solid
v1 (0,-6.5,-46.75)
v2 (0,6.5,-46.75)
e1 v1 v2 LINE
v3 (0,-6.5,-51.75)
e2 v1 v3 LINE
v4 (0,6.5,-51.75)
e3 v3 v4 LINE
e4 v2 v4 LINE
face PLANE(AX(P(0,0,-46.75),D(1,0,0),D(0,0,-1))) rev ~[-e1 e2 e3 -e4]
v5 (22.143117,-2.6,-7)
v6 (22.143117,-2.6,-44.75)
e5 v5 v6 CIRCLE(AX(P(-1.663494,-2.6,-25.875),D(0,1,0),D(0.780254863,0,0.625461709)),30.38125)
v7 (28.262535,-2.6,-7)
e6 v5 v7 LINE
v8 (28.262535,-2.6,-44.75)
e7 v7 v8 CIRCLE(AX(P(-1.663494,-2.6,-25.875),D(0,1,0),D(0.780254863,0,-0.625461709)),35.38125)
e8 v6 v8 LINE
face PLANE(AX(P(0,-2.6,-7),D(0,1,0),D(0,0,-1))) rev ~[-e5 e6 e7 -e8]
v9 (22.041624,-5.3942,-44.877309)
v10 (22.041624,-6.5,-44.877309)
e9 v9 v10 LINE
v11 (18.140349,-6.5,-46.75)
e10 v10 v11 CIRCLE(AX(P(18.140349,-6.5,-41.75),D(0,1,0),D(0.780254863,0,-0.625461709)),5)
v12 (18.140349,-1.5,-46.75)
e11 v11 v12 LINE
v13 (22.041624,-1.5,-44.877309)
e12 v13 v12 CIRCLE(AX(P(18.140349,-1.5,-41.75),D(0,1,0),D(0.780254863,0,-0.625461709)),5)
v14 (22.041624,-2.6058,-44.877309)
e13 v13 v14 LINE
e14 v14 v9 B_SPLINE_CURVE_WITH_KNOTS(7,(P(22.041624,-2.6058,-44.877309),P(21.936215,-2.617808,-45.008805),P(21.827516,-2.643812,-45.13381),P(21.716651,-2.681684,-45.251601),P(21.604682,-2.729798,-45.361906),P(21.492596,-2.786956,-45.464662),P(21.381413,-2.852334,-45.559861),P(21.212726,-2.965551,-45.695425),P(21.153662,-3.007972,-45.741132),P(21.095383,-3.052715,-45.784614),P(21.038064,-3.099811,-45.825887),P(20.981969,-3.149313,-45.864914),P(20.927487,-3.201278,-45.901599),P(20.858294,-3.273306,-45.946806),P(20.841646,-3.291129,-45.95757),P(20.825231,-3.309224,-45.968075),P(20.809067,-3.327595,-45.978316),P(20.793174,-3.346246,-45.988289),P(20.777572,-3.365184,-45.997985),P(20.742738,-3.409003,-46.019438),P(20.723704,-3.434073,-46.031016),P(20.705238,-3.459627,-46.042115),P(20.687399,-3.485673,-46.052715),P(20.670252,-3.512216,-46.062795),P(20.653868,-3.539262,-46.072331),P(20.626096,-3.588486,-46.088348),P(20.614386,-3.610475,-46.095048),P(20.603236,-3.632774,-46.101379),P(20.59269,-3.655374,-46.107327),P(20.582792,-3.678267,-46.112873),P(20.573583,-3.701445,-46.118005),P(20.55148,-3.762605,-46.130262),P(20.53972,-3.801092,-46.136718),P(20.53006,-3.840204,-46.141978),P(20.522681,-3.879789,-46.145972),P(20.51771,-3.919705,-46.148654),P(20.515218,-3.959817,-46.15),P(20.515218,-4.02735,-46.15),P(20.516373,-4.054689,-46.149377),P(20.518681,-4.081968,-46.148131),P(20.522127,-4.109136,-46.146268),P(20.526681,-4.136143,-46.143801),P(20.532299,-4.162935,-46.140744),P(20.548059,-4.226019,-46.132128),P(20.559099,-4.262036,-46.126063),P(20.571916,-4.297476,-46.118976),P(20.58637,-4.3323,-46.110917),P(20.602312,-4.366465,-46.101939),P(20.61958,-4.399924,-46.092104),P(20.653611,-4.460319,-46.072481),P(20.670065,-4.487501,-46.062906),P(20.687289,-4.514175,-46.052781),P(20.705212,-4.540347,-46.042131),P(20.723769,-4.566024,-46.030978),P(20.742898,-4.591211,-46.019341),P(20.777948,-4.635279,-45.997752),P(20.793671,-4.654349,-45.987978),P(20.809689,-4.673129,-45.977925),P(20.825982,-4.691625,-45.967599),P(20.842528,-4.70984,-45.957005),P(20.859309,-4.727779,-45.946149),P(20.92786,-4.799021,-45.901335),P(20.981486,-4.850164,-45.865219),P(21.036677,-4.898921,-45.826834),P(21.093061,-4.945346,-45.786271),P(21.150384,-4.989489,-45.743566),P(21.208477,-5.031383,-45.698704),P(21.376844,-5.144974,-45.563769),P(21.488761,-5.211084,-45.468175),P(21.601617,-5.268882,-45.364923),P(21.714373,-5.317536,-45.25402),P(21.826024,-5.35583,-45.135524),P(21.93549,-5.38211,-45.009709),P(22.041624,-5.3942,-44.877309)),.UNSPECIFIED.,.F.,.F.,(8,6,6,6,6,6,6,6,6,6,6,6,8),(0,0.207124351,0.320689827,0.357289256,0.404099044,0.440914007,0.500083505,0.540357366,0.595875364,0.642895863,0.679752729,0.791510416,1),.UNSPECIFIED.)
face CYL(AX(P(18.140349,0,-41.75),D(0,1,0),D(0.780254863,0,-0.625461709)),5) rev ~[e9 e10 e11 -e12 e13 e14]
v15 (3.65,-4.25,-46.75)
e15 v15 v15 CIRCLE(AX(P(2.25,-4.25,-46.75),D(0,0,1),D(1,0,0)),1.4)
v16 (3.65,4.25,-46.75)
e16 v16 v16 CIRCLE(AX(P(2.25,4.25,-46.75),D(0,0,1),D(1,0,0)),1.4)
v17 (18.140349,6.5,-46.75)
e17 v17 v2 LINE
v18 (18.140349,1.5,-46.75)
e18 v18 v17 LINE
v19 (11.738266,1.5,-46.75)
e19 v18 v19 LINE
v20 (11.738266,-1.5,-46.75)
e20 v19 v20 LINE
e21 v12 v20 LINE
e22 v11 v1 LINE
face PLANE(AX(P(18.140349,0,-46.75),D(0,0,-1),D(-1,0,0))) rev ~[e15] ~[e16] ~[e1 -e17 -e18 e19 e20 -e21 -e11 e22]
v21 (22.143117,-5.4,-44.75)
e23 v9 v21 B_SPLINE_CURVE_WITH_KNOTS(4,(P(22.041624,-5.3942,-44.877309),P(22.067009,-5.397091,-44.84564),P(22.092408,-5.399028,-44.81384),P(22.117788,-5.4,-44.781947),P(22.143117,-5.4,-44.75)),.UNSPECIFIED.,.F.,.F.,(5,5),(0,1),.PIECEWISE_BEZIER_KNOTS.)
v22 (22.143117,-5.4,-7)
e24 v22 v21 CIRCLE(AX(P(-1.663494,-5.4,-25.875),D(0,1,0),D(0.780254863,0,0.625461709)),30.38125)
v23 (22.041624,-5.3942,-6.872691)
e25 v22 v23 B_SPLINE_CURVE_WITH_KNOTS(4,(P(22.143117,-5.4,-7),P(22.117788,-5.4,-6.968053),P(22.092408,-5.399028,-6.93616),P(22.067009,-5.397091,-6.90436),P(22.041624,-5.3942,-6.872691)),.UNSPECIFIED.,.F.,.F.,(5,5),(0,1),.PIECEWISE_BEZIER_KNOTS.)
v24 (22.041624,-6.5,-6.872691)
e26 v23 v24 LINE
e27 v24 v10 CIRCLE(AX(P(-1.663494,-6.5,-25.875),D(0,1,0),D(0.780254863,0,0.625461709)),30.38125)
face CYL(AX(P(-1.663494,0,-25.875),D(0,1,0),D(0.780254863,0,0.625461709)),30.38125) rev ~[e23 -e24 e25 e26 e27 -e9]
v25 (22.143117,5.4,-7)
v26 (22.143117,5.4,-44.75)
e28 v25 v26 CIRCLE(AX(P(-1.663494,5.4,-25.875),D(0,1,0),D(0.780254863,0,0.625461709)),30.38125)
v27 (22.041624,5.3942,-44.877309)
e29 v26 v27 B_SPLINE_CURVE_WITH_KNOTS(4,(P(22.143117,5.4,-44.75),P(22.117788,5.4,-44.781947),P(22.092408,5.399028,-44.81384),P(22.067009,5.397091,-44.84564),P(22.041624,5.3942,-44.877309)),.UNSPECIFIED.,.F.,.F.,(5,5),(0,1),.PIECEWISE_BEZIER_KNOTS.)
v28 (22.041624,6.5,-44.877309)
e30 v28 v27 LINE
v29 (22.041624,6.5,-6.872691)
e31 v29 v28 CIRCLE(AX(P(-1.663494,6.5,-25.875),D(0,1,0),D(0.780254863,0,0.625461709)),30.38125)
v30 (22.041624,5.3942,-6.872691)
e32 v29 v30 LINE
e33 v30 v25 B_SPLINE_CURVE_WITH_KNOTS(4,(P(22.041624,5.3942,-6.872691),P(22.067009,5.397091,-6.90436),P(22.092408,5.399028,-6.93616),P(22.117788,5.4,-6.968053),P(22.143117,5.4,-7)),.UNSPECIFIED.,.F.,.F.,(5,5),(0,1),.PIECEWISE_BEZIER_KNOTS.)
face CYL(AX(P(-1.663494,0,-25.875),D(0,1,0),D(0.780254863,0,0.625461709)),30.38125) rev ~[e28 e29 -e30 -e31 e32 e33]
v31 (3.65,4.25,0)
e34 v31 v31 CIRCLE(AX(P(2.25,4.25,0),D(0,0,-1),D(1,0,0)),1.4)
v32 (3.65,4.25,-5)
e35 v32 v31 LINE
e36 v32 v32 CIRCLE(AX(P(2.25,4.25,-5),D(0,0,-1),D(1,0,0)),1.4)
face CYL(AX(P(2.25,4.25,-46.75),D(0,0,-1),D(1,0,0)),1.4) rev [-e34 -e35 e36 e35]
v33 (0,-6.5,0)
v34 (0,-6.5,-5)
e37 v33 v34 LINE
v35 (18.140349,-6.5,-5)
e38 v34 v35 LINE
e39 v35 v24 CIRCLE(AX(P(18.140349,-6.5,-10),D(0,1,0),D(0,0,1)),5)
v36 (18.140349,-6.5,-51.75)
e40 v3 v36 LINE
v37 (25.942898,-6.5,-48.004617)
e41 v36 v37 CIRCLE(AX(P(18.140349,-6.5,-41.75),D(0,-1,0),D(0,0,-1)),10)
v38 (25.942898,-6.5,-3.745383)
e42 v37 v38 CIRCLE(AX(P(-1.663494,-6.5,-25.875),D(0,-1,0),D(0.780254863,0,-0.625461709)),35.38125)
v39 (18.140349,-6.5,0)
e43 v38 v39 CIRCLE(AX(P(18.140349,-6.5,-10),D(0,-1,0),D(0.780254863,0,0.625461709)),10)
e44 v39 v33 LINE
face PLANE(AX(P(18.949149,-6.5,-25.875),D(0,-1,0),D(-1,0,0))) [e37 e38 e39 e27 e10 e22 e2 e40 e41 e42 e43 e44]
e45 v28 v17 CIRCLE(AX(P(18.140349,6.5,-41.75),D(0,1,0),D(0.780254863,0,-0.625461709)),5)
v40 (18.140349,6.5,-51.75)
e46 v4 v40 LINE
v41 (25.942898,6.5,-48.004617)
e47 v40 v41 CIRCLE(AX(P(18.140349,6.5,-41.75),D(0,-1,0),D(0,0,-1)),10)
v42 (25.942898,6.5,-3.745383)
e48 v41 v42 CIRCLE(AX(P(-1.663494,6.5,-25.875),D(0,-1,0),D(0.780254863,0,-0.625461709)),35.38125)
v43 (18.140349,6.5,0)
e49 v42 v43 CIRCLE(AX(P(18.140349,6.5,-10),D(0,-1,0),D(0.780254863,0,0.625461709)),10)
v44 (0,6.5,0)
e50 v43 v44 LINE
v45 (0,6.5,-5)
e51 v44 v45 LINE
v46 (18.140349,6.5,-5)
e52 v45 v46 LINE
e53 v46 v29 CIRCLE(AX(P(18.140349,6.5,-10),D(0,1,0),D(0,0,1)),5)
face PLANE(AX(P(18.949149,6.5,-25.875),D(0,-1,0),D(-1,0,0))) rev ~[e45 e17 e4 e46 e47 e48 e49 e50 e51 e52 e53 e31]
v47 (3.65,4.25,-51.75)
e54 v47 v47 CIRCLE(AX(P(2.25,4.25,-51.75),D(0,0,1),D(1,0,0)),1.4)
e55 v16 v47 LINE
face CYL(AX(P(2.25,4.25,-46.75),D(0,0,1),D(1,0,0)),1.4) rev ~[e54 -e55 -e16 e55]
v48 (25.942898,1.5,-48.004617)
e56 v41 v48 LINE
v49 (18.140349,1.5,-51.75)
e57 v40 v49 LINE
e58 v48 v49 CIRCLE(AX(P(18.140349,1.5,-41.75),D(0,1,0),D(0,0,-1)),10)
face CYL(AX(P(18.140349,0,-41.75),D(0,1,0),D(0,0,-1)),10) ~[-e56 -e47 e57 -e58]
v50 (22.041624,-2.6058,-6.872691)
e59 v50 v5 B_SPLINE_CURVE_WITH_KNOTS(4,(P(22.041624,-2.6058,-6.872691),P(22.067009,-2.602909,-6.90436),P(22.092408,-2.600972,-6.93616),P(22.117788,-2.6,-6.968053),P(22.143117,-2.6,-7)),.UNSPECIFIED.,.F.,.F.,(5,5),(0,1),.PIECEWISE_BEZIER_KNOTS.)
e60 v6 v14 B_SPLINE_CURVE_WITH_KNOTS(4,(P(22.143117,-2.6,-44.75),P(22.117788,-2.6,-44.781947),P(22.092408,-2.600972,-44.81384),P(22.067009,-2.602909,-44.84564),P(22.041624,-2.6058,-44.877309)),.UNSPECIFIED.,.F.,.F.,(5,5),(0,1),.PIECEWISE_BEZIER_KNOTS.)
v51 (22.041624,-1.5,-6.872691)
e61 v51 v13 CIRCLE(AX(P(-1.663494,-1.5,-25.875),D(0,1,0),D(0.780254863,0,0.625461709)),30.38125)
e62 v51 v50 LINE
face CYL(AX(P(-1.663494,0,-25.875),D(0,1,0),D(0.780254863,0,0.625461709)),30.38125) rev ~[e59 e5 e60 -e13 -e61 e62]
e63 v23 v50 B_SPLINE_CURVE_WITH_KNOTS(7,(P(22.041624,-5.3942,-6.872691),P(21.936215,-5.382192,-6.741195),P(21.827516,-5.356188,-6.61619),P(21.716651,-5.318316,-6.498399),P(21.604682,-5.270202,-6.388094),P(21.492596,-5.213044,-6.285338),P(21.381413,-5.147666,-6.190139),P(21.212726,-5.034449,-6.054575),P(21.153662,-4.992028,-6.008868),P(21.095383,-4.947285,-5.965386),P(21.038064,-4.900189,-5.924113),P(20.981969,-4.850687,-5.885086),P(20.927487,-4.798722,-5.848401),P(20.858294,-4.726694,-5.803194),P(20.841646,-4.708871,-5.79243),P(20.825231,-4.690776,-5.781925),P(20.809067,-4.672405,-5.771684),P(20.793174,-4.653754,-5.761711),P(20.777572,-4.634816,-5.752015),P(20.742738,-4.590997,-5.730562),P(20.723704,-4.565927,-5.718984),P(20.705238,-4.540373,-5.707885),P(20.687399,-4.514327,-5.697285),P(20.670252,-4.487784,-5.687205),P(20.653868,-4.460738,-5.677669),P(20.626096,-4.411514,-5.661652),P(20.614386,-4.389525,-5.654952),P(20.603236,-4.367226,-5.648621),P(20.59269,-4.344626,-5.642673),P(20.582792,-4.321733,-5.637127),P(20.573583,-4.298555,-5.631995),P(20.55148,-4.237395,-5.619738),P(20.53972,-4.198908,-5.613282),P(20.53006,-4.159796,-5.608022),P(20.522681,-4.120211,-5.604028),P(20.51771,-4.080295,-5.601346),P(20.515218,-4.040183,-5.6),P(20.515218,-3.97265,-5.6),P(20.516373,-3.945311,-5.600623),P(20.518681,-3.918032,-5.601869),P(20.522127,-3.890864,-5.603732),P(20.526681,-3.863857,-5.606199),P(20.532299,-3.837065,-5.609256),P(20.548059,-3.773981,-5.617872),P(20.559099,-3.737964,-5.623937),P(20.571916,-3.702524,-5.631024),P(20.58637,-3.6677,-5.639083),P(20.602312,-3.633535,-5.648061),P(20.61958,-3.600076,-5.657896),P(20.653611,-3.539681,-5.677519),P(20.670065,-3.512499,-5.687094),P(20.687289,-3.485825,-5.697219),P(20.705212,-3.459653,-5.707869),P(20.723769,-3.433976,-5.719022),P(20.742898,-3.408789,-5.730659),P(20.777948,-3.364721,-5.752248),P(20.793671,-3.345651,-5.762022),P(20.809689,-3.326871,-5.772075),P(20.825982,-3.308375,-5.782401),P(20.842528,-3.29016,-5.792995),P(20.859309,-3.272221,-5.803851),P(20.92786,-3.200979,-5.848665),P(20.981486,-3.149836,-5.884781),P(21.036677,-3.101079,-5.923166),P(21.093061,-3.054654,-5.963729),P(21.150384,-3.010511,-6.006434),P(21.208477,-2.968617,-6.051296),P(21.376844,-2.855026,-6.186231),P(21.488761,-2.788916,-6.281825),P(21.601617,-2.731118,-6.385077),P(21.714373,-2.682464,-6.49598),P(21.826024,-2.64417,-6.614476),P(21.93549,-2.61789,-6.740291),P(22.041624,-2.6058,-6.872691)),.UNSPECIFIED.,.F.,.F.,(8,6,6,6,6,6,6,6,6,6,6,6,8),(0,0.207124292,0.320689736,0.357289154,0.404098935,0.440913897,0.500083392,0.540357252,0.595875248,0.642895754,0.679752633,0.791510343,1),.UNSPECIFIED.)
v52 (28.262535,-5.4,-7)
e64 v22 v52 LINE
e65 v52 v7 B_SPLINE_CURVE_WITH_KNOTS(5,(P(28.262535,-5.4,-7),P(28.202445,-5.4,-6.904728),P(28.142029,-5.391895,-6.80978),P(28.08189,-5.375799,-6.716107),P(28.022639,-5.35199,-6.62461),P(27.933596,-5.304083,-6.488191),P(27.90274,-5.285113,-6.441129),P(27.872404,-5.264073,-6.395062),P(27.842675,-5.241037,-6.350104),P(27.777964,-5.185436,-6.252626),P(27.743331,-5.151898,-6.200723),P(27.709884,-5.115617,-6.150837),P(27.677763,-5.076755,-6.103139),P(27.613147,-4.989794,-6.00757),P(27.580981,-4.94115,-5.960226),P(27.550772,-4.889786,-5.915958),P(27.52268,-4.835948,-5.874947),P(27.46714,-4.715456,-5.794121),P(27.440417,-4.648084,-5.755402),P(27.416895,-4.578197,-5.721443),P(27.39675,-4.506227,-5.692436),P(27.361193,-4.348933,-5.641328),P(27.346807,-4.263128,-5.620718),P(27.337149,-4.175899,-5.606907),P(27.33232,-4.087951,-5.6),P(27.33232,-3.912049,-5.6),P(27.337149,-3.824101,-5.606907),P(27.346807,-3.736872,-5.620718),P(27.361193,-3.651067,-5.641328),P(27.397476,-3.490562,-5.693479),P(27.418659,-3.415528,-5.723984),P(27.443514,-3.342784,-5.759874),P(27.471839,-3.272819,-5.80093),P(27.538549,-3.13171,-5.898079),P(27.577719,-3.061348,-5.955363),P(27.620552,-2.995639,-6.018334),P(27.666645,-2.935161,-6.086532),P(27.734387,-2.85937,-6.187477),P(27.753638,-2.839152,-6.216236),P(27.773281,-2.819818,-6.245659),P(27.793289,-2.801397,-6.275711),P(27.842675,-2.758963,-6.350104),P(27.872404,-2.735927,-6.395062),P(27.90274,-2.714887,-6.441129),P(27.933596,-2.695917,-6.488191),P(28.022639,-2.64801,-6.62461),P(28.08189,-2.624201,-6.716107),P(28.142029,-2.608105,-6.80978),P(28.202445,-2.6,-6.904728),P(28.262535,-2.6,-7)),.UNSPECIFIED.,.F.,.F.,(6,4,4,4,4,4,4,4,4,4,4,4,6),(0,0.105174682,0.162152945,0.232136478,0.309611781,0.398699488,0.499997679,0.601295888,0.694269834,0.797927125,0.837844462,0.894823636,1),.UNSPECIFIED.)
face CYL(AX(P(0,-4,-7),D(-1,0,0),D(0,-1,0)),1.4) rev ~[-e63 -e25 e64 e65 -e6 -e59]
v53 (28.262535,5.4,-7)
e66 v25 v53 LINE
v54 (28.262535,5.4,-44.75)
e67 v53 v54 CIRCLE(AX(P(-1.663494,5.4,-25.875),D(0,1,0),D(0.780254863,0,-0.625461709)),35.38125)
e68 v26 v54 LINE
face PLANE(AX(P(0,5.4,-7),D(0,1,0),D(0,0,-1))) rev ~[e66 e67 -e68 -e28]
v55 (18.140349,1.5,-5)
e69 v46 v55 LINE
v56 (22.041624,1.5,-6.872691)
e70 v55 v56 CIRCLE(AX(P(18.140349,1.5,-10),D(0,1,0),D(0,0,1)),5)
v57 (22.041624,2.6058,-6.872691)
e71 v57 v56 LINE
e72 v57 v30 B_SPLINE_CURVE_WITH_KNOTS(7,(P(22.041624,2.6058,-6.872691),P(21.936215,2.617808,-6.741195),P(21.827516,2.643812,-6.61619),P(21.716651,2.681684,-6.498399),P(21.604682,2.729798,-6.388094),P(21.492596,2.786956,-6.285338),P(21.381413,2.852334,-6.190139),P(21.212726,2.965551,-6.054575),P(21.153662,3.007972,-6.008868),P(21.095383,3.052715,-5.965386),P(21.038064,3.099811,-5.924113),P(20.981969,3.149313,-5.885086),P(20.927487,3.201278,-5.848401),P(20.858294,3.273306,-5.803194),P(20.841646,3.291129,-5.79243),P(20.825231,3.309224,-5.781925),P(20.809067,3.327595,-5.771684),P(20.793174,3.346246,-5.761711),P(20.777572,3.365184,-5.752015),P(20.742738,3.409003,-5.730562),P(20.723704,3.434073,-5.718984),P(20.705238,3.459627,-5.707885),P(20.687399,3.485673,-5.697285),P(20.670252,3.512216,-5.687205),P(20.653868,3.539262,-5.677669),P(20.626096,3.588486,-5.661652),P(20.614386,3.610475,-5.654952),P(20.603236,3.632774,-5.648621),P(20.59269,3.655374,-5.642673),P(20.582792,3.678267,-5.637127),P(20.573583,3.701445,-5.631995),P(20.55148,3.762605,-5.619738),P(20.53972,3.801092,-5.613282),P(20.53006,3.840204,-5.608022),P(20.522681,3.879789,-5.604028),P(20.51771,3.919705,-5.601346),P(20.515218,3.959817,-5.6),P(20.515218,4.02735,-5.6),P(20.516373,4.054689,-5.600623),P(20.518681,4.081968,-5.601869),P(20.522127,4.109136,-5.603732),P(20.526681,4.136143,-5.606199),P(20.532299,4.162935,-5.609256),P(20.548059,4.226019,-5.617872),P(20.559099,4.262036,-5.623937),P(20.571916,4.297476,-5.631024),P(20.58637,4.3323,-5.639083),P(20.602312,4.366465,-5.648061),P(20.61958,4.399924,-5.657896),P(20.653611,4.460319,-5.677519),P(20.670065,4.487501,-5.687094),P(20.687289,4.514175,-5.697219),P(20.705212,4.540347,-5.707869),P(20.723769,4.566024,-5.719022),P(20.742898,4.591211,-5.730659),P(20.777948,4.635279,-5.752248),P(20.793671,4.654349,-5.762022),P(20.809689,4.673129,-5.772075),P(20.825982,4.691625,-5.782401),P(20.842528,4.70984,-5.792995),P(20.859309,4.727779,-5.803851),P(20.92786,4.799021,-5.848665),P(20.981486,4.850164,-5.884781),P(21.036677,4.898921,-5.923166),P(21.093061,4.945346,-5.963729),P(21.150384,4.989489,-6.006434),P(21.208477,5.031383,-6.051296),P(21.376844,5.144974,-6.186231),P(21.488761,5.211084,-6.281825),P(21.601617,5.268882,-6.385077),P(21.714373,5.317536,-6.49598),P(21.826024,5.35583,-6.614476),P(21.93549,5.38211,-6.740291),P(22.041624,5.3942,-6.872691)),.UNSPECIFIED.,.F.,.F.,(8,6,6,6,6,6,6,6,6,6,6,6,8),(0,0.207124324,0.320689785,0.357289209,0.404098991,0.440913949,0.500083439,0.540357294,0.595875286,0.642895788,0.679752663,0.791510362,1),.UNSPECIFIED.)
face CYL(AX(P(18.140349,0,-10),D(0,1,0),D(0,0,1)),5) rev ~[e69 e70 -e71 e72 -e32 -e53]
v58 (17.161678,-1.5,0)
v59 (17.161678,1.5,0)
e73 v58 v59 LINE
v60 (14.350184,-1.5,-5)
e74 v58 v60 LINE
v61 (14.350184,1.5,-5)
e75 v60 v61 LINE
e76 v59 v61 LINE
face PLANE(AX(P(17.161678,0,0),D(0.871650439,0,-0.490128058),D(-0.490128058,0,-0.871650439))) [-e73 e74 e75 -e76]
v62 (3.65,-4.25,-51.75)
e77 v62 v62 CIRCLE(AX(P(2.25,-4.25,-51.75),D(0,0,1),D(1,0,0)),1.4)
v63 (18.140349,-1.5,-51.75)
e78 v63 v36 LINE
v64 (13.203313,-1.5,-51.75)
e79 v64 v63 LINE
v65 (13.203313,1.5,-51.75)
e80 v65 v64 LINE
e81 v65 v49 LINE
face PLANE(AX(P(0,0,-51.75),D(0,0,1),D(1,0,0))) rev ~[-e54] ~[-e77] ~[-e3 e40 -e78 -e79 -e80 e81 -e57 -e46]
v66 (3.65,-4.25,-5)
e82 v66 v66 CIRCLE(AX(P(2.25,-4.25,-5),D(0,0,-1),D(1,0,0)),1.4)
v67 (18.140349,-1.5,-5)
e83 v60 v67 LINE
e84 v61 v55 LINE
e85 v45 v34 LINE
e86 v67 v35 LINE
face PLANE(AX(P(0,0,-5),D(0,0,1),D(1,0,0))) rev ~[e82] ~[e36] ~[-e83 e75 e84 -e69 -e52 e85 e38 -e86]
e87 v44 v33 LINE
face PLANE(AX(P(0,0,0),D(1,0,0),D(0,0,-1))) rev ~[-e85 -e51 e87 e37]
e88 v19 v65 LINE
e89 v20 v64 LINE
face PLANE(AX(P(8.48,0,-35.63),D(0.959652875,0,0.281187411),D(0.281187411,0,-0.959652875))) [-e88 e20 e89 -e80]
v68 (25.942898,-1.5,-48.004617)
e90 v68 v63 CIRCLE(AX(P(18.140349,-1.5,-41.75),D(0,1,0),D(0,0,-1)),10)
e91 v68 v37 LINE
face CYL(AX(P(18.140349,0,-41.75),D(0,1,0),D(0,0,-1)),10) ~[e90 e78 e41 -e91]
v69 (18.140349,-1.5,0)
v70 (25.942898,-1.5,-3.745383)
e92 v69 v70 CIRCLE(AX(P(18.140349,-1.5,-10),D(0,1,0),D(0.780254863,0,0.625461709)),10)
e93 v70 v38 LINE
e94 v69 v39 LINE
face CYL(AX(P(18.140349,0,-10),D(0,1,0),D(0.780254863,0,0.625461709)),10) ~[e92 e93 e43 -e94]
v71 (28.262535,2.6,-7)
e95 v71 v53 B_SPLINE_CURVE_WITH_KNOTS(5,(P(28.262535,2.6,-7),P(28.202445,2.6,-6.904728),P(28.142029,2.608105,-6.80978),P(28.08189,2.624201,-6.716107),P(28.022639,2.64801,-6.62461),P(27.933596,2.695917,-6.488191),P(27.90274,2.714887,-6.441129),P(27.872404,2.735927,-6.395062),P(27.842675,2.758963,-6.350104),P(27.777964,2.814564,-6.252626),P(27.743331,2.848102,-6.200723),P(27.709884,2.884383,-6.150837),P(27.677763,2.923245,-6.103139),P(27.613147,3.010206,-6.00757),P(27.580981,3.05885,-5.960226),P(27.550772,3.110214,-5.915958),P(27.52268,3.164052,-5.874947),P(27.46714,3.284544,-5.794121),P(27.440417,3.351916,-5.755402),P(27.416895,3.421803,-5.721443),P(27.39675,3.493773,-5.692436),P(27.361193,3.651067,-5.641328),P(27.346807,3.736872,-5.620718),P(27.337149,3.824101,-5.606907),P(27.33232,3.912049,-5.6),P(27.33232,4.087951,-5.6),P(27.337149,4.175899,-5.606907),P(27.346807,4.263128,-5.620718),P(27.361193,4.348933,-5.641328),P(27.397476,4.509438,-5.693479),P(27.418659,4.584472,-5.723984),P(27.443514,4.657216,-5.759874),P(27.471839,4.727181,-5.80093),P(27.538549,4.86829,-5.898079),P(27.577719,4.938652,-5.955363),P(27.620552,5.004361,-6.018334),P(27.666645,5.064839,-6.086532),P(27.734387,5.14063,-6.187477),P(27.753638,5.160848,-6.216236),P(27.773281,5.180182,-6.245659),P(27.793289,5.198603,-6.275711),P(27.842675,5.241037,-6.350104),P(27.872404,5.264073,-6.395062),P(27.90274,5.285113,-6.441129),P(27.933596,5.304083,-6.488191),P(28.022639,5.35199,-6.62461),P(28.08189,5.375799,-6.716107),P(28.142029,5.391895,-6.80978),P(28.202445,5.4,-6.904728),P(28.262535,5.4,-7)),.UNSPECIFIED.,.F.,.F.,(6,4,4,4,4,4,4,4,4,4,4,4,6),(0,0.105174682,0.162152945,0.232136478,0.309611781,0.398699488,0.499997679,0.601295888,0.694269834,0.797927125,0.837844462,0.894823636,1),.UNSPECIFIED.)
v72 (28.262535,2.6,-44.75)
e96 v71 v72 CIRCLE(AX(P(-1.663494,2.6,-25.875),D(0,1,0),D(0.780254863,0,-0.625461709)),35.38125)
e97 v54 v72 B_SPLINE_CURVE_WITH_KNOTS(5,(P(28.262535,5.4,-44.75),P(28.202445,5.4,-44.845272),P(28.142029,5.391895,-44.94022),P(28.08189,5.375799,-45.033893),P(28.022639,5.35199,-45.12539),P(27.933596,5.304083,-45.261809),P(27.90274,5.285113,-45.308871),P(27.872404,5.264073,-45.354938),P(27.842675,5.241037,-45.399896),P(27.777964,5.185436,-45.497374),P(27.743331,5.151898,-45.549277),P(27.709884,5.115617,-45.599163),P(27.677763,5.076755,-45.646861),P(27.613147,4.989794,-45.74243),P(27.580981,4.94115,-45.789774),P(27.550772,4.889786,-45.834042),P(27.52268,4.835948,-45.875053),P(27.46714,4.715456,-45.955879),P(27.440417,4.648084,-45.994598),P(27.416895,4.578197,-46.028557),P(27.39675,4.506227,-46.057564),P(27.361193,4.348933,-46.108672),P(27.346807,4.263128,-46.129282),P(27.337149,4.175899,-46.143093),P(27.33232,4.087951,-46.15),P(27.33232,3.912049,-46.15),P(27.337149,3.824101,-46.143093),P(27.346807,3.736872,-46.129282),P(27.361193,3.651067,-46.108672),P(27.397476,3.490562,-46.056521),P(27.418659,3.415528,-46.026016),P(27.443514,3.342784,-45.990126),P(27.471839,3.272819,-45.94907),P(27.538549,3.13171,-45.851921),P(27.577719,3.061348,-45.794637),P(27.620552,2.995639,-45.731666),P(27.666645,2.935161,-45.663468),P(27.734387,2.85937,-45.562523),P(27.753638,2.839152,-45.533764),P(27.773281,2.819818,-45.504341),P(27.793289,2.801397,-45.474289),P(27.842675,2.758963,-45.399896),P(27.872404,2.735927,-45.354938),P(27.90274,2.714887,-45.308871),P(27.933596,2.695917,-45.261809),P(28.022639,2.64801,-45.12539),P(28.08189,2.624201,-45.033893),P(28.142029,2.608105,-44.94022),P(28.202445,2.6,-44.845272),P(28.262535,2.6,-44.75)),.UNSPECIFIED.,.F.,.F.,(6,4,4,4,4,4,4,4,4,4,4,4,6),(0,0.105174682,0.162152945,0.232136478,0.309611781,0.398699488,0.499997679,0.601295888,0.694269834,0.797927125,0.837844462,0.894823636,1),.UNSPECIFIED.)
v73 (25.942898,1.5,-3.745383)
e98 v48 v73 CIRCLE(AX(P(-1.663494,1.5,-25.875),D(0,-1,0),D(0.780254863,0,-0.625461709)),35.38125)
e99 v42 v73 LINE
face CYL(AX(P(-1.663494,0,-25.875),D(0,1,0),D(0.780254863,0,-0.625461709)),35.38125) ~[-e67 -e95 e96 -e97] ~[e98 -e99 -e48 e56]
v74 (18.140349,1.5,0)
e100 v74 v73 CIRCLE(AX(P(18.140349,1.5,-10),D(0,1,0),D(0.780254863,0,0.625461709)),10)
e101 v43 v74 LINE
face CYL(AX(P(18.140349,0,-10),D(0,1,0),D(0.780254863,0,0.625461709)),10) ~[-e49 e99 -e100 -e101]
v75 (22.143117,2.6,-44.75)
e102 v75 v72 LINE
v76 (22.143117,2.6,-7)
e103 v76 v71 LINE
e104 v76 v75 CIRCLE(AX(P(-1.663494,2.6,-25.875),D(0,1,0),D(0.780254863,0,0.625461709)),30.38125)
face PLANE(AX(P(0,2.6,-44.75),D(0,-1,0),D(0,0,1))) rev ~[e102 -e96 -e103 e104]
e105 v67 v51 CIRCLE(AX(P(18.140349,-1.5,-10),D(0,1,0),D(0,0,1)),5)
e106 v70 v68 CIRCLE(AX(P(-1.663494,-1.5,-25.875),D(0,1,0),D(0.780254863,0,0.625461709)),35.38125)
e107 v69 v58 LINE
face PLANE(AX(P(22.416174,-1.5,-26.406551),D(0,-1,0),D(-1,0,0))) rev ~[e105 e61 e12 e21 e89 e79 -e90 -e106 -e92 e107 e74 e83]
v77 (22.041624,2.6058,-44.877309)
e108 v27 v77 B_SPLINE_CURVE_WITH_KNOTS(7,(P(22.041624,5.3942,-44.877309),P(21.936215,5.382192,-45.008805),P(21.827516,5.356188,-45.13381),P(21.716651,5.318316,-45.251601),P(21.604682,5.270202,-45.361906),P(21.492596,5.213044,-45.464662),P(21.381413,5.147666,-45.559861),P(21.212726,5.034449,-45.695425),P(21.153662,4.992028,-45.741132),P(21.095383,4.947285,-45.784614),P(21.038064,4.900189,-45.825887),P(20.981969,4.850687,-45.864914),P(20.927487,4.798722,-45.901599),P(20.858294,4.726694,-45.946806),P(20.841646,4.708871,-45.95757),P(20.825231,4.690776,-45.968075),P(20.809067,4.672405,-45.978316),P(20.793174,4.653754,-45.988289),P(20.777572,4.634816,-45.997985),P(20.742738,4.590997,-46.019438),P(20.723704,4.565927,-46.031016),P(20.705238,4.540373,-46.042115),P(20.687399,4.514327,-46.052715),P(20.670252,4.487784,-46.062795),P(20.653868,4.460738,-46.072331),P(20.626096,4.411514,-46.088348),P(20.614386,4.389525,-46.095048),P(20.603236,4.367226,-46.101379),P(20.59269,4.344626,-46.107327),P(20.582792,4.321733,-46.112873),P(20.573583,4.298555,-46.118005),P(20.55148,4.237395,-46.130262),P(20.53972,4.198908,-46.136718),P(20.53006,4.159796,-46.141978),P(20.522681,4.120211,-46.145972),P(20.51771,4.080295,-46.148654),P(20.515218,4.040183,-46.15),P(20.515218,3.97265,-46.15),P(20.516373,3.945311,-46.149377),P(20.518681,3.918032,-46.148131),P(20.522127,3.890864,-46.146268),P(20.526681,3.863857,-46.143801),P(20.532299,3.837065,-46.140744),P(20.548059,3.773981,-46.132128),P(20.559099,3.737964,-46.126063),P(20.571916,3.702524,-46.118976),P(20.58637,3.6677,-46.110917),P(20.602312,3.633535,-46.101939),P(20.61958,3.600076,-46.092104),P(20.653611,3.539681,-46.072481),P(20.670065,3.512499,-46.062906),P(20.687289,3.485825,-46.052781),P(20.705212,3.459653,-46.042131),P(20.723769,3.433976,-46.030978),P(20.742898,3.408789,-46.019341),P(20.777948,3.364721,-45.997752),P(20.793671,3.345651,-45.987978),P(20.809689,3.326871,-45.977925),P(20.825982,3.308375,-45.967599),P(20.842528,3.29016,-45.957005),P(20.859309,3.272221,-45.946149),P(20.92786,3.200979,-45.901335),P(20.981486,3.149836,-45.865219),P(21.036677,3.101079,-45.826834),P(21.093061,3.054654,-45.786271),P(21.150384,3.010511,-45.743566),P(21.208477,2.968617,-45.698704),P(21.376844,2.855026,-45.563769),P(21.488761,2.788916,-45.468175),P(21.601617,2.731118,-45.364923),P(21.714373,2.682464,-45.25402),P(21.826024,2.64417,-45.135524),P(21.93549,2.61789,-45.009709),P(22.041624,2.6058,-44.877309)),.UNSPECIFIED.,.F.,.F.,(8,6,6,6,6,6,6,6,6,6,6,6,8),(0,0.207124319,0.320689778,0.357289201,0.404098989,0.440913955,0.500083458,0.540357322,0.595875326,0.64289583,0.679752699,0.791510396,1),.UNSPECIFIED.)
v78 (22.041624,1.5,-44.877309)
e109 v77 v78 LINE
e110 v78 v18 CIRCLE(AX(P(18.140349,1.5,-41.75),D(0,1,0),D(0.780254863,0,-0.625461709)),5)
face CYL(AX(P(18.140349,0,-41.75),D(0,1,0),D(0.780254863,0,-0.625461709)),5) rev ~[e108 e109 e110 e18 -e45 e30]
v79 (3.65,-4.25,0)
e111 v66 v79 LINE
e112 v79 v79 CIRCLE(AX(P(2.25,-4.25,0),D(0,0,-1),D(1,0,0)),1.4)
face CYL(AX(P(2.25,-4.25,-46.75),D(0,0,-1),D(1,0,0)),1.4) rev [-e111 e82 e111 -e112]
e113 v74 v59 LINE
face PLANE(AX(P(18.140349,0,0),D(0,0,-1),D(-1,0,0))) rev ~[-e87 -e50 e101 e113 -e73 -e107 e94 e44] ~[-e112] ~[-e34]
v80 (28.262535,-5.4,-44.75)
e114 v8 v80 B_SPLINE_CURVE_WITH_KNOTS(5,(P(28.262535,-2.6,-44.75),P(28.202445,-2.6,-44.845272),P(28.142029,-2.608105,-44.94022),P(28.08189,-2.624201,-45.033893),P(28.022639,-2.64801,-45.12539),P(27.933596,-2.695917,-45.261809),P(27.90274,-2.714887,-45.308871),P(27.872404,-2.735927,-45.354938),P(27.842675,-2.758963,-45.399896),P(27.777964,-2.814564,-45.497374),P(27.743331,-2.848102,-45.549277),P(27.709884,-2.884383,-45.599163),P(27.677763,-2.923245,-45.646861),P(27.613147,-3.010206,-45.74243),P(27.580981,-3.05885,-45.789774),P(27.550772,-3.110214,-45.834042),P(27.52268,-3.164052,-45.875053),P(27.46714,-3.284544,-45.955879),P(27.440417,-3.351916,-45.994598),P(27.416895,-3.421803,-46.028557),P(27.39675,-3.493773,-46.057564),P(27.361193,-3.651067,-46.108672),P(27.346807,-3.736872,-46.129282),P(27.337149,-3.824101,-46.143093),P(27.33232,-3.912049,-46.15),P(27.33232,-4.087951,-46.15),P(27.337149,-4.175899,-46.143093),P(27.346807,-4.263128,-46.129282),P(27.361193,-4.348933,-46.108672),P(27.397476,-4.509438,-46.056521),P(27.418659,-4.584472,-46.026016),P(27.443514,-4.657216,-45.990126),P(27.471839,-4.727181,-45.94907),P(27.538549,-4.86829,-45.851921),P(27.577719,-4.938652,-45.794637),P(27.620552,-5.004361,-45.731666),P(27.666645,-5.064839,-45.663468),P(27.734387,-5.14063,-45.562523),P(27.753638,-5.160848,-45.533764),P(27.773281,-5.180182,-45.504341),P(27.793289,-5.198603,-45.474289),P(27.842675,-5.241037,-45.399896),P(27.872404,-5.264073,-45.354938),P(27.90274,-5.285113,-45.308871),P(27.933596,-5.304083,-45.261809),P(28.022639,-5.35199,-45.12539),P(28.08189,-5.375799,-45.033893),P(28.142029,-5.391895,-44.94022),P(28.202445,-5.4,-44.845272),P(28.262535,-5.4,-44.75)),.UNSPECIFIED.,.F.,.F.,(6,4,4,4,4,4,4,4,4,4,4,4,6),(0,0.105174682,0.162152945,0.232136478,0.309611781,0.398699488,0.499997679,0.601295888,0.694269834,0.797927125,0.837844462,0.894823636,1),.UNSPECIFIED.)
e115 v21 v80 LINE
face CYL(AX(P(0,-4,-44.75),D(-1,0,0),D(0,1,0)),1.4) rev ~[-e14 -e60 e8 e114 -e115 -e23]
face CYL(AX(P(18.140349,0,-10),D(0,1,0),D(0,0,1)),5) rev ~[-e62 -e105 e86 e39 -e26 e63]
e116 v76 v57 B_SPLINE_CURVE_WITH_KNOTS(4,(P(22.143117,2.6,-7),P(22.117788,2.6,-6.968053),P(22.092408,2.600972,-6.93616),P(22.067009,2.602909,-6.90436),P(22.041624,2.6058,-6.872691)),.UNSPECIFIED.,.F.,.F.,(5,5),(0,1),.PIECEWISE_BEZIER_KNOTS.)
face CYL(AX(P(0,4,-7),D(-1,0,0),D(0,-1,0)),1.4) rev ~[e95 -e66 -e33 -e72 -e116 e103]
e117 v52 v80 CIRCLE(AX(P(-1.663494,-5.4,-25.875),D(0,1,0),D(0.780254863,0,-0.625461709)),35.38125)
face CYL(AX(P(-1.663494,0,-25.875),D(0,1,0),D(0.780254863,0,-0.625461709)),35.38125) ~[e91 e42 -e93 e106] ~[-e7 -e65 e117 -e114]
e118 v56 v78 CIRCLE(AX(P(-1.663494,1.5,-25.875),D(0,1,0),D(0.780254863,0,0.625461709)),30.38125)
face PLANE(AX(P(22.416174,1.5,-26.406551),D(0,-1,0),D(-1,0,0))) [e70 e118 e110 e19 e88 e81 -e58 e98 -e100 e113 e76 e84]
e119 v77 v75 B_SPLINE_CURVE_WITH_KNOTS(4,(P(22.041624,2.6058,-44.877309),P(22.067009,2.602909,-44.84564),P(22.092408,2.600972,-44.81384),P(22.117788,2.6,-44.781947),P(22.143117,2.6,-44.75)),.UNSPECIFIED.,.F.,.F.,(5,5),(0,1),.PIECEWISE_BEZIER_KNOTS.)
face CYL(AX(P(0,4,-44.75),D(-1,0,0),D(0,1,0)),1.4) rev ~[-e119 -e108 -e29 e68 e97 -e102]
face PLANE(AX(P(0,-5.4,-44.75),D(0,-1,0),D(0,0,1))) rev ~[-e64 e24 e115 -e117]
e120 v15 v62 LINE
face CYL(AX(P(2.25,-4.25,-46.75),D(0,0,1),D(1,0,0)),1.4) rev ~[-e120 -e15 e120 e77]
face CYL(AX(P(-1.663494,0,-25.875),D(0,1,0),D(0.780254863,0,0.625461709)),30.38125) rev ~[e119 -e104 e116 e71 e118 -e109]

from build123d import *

# Parameters (mm, degrees)
RESSALTO_EXTRUS_O1_DEPTH   = 6.5
CORTE_EXTRUS_O1_DEPTH      = 34.71775564
CORTE_EXTRUS_O2_START      = -6.5
CORTE_EXTRUS_O2_DEPTH      = 1.5
ESBO_O5_R                  = 1.4
CORTE_EXTRUS_O3_DEPTH      = 47.75
CORTE_EXTRUS_O3_DEPTH_BACK = 6


with BuildPart() as part:
    # Esboço1 → Ressalto-extrusão1 (new body, symmetric)
    with BuildSketch(Plane(origin=(0, 0, 0), x_dir=(1, 0, 0), z_dir=(0, 1, 0))):
        with BuildLine():
            Line((0, 51.75), (18.140349372, 51.75))
            ThreePointArc((18.140349372, 51.75), (22.467809892, 50.765158648), (25.942897998, 48.004617089))
            ThreePointArc((25.942897998, 48.004617089), (33.71775564, 25.875), (25.942897998, 3.745382911))
            ThreePointArc((25.942897998, 3.745382911), (22.467809892, 0.984841352), (18.140349372, 0))
            Line((18.140349372, 0), (0, 0))
            Line((0, 0), (0, 5))
            Line((0, 5), (18.140349372, 5))
            ThreePointArc((18.140349372, 5), (20.304079632, 5.492420676), (22.041623685, 6.872691455))
            ThreePointArc((22.041623685, 6.872691455), (28.71775564, 25.875), (22.041623685, 44.877308545))
            ThreePointArc((22.041623685, 44.877308545), (20.304079632, 46.257579324), (18.140349372, 46.75))
            Line((18.140349372, 46.75), (0, 46.75))
            Line((0, 46.75), (0, 51.75))
        make_face()
    extrude(amount=RESSALTO_EXTRUS_O1_DEPTH, both=True)

    # Esboço2 → Corte-extrusão1 (cut, through all)
    with BuildSketch(Plane.ZY):
        with BuildLine():
            Line((-44.75, 2.6), (-7, 2.6))
            ThreePointArc((-7, 2.6), (-5.6, 4), (-7, 5.4))
            Line((-7, 5.4), (-44.75, 5.4))
            ThreePointArc((-44.75, 5.4), (-46.15, 4), (-44.75, 2.6))
        make_face()
        with BuildLine():
            Line((-44.75, -5.4), (-7, -5.4))
            ThreePointArc((-7, -5.4), (-5.6, -4), (-7, -2.6))
            Line((-7, -2.6), (-44.75, -2.6))
            ThreePointArc((-44.75, -2.6), (-46.15, -4), (-44.75, -5.4))
        make_face()
    extrude(amount=-CORTE_EXTRUS_O1_DEPTH, mode=Mode.SUBTRACT)

    # Esboço4 → Corte-extrusão2 (cut, symmetric)
    with BuildSketch(Plane(origin=(0, 6.5, 0), x_dir=(1, 0, 0), z_dir=(0, 1, 0)).offset(CORTE_EXTRUS_O2_START)):
        with BuildLine():
            Line((8.48, 35.63), (13.203313178, 51.75))
            Line((13.203313178, 51.75), (33.71775564, 51.75))
            Line((33.71775564, 51.75), (33.71775564, 0))
            Line((33.71775564, 0), (17.161678374, 0))
            Line((17.161678374, 0), (11.37, 10.3))
            ThreePointArc((11.37, 10.3), (7.366682193, 22.673111391), (8.48, 35.63))
        make_face()
    extrude(amount=CORTE_EXTRUS_O2_DEPTH, both=True, mode=Mode.SUBTRACT)

    # Esboço5 → Corte-extrusão3 (cut, two sides)
    with BuildSketch(Plane.XY.offset(-46.75)) as corte_extrus_o3_sk:
        with Locations((2.25, 4.25)):
            Circle(ESBO_O5_R)
        with Locations((2.25, -4.25)):
            Circle(ESBO_O5_R)
    extrude(amount=CORTE_EXTRUS_O3_DEPTH, mode=Mode.SUBTRACT)
    extrude(corte_extrus_o3_sk.sketch, amount=-CORTE_EXTRUS_O3_DEPTH_BACK, mode=Mode.SUBTRACT)


solid = part.part
